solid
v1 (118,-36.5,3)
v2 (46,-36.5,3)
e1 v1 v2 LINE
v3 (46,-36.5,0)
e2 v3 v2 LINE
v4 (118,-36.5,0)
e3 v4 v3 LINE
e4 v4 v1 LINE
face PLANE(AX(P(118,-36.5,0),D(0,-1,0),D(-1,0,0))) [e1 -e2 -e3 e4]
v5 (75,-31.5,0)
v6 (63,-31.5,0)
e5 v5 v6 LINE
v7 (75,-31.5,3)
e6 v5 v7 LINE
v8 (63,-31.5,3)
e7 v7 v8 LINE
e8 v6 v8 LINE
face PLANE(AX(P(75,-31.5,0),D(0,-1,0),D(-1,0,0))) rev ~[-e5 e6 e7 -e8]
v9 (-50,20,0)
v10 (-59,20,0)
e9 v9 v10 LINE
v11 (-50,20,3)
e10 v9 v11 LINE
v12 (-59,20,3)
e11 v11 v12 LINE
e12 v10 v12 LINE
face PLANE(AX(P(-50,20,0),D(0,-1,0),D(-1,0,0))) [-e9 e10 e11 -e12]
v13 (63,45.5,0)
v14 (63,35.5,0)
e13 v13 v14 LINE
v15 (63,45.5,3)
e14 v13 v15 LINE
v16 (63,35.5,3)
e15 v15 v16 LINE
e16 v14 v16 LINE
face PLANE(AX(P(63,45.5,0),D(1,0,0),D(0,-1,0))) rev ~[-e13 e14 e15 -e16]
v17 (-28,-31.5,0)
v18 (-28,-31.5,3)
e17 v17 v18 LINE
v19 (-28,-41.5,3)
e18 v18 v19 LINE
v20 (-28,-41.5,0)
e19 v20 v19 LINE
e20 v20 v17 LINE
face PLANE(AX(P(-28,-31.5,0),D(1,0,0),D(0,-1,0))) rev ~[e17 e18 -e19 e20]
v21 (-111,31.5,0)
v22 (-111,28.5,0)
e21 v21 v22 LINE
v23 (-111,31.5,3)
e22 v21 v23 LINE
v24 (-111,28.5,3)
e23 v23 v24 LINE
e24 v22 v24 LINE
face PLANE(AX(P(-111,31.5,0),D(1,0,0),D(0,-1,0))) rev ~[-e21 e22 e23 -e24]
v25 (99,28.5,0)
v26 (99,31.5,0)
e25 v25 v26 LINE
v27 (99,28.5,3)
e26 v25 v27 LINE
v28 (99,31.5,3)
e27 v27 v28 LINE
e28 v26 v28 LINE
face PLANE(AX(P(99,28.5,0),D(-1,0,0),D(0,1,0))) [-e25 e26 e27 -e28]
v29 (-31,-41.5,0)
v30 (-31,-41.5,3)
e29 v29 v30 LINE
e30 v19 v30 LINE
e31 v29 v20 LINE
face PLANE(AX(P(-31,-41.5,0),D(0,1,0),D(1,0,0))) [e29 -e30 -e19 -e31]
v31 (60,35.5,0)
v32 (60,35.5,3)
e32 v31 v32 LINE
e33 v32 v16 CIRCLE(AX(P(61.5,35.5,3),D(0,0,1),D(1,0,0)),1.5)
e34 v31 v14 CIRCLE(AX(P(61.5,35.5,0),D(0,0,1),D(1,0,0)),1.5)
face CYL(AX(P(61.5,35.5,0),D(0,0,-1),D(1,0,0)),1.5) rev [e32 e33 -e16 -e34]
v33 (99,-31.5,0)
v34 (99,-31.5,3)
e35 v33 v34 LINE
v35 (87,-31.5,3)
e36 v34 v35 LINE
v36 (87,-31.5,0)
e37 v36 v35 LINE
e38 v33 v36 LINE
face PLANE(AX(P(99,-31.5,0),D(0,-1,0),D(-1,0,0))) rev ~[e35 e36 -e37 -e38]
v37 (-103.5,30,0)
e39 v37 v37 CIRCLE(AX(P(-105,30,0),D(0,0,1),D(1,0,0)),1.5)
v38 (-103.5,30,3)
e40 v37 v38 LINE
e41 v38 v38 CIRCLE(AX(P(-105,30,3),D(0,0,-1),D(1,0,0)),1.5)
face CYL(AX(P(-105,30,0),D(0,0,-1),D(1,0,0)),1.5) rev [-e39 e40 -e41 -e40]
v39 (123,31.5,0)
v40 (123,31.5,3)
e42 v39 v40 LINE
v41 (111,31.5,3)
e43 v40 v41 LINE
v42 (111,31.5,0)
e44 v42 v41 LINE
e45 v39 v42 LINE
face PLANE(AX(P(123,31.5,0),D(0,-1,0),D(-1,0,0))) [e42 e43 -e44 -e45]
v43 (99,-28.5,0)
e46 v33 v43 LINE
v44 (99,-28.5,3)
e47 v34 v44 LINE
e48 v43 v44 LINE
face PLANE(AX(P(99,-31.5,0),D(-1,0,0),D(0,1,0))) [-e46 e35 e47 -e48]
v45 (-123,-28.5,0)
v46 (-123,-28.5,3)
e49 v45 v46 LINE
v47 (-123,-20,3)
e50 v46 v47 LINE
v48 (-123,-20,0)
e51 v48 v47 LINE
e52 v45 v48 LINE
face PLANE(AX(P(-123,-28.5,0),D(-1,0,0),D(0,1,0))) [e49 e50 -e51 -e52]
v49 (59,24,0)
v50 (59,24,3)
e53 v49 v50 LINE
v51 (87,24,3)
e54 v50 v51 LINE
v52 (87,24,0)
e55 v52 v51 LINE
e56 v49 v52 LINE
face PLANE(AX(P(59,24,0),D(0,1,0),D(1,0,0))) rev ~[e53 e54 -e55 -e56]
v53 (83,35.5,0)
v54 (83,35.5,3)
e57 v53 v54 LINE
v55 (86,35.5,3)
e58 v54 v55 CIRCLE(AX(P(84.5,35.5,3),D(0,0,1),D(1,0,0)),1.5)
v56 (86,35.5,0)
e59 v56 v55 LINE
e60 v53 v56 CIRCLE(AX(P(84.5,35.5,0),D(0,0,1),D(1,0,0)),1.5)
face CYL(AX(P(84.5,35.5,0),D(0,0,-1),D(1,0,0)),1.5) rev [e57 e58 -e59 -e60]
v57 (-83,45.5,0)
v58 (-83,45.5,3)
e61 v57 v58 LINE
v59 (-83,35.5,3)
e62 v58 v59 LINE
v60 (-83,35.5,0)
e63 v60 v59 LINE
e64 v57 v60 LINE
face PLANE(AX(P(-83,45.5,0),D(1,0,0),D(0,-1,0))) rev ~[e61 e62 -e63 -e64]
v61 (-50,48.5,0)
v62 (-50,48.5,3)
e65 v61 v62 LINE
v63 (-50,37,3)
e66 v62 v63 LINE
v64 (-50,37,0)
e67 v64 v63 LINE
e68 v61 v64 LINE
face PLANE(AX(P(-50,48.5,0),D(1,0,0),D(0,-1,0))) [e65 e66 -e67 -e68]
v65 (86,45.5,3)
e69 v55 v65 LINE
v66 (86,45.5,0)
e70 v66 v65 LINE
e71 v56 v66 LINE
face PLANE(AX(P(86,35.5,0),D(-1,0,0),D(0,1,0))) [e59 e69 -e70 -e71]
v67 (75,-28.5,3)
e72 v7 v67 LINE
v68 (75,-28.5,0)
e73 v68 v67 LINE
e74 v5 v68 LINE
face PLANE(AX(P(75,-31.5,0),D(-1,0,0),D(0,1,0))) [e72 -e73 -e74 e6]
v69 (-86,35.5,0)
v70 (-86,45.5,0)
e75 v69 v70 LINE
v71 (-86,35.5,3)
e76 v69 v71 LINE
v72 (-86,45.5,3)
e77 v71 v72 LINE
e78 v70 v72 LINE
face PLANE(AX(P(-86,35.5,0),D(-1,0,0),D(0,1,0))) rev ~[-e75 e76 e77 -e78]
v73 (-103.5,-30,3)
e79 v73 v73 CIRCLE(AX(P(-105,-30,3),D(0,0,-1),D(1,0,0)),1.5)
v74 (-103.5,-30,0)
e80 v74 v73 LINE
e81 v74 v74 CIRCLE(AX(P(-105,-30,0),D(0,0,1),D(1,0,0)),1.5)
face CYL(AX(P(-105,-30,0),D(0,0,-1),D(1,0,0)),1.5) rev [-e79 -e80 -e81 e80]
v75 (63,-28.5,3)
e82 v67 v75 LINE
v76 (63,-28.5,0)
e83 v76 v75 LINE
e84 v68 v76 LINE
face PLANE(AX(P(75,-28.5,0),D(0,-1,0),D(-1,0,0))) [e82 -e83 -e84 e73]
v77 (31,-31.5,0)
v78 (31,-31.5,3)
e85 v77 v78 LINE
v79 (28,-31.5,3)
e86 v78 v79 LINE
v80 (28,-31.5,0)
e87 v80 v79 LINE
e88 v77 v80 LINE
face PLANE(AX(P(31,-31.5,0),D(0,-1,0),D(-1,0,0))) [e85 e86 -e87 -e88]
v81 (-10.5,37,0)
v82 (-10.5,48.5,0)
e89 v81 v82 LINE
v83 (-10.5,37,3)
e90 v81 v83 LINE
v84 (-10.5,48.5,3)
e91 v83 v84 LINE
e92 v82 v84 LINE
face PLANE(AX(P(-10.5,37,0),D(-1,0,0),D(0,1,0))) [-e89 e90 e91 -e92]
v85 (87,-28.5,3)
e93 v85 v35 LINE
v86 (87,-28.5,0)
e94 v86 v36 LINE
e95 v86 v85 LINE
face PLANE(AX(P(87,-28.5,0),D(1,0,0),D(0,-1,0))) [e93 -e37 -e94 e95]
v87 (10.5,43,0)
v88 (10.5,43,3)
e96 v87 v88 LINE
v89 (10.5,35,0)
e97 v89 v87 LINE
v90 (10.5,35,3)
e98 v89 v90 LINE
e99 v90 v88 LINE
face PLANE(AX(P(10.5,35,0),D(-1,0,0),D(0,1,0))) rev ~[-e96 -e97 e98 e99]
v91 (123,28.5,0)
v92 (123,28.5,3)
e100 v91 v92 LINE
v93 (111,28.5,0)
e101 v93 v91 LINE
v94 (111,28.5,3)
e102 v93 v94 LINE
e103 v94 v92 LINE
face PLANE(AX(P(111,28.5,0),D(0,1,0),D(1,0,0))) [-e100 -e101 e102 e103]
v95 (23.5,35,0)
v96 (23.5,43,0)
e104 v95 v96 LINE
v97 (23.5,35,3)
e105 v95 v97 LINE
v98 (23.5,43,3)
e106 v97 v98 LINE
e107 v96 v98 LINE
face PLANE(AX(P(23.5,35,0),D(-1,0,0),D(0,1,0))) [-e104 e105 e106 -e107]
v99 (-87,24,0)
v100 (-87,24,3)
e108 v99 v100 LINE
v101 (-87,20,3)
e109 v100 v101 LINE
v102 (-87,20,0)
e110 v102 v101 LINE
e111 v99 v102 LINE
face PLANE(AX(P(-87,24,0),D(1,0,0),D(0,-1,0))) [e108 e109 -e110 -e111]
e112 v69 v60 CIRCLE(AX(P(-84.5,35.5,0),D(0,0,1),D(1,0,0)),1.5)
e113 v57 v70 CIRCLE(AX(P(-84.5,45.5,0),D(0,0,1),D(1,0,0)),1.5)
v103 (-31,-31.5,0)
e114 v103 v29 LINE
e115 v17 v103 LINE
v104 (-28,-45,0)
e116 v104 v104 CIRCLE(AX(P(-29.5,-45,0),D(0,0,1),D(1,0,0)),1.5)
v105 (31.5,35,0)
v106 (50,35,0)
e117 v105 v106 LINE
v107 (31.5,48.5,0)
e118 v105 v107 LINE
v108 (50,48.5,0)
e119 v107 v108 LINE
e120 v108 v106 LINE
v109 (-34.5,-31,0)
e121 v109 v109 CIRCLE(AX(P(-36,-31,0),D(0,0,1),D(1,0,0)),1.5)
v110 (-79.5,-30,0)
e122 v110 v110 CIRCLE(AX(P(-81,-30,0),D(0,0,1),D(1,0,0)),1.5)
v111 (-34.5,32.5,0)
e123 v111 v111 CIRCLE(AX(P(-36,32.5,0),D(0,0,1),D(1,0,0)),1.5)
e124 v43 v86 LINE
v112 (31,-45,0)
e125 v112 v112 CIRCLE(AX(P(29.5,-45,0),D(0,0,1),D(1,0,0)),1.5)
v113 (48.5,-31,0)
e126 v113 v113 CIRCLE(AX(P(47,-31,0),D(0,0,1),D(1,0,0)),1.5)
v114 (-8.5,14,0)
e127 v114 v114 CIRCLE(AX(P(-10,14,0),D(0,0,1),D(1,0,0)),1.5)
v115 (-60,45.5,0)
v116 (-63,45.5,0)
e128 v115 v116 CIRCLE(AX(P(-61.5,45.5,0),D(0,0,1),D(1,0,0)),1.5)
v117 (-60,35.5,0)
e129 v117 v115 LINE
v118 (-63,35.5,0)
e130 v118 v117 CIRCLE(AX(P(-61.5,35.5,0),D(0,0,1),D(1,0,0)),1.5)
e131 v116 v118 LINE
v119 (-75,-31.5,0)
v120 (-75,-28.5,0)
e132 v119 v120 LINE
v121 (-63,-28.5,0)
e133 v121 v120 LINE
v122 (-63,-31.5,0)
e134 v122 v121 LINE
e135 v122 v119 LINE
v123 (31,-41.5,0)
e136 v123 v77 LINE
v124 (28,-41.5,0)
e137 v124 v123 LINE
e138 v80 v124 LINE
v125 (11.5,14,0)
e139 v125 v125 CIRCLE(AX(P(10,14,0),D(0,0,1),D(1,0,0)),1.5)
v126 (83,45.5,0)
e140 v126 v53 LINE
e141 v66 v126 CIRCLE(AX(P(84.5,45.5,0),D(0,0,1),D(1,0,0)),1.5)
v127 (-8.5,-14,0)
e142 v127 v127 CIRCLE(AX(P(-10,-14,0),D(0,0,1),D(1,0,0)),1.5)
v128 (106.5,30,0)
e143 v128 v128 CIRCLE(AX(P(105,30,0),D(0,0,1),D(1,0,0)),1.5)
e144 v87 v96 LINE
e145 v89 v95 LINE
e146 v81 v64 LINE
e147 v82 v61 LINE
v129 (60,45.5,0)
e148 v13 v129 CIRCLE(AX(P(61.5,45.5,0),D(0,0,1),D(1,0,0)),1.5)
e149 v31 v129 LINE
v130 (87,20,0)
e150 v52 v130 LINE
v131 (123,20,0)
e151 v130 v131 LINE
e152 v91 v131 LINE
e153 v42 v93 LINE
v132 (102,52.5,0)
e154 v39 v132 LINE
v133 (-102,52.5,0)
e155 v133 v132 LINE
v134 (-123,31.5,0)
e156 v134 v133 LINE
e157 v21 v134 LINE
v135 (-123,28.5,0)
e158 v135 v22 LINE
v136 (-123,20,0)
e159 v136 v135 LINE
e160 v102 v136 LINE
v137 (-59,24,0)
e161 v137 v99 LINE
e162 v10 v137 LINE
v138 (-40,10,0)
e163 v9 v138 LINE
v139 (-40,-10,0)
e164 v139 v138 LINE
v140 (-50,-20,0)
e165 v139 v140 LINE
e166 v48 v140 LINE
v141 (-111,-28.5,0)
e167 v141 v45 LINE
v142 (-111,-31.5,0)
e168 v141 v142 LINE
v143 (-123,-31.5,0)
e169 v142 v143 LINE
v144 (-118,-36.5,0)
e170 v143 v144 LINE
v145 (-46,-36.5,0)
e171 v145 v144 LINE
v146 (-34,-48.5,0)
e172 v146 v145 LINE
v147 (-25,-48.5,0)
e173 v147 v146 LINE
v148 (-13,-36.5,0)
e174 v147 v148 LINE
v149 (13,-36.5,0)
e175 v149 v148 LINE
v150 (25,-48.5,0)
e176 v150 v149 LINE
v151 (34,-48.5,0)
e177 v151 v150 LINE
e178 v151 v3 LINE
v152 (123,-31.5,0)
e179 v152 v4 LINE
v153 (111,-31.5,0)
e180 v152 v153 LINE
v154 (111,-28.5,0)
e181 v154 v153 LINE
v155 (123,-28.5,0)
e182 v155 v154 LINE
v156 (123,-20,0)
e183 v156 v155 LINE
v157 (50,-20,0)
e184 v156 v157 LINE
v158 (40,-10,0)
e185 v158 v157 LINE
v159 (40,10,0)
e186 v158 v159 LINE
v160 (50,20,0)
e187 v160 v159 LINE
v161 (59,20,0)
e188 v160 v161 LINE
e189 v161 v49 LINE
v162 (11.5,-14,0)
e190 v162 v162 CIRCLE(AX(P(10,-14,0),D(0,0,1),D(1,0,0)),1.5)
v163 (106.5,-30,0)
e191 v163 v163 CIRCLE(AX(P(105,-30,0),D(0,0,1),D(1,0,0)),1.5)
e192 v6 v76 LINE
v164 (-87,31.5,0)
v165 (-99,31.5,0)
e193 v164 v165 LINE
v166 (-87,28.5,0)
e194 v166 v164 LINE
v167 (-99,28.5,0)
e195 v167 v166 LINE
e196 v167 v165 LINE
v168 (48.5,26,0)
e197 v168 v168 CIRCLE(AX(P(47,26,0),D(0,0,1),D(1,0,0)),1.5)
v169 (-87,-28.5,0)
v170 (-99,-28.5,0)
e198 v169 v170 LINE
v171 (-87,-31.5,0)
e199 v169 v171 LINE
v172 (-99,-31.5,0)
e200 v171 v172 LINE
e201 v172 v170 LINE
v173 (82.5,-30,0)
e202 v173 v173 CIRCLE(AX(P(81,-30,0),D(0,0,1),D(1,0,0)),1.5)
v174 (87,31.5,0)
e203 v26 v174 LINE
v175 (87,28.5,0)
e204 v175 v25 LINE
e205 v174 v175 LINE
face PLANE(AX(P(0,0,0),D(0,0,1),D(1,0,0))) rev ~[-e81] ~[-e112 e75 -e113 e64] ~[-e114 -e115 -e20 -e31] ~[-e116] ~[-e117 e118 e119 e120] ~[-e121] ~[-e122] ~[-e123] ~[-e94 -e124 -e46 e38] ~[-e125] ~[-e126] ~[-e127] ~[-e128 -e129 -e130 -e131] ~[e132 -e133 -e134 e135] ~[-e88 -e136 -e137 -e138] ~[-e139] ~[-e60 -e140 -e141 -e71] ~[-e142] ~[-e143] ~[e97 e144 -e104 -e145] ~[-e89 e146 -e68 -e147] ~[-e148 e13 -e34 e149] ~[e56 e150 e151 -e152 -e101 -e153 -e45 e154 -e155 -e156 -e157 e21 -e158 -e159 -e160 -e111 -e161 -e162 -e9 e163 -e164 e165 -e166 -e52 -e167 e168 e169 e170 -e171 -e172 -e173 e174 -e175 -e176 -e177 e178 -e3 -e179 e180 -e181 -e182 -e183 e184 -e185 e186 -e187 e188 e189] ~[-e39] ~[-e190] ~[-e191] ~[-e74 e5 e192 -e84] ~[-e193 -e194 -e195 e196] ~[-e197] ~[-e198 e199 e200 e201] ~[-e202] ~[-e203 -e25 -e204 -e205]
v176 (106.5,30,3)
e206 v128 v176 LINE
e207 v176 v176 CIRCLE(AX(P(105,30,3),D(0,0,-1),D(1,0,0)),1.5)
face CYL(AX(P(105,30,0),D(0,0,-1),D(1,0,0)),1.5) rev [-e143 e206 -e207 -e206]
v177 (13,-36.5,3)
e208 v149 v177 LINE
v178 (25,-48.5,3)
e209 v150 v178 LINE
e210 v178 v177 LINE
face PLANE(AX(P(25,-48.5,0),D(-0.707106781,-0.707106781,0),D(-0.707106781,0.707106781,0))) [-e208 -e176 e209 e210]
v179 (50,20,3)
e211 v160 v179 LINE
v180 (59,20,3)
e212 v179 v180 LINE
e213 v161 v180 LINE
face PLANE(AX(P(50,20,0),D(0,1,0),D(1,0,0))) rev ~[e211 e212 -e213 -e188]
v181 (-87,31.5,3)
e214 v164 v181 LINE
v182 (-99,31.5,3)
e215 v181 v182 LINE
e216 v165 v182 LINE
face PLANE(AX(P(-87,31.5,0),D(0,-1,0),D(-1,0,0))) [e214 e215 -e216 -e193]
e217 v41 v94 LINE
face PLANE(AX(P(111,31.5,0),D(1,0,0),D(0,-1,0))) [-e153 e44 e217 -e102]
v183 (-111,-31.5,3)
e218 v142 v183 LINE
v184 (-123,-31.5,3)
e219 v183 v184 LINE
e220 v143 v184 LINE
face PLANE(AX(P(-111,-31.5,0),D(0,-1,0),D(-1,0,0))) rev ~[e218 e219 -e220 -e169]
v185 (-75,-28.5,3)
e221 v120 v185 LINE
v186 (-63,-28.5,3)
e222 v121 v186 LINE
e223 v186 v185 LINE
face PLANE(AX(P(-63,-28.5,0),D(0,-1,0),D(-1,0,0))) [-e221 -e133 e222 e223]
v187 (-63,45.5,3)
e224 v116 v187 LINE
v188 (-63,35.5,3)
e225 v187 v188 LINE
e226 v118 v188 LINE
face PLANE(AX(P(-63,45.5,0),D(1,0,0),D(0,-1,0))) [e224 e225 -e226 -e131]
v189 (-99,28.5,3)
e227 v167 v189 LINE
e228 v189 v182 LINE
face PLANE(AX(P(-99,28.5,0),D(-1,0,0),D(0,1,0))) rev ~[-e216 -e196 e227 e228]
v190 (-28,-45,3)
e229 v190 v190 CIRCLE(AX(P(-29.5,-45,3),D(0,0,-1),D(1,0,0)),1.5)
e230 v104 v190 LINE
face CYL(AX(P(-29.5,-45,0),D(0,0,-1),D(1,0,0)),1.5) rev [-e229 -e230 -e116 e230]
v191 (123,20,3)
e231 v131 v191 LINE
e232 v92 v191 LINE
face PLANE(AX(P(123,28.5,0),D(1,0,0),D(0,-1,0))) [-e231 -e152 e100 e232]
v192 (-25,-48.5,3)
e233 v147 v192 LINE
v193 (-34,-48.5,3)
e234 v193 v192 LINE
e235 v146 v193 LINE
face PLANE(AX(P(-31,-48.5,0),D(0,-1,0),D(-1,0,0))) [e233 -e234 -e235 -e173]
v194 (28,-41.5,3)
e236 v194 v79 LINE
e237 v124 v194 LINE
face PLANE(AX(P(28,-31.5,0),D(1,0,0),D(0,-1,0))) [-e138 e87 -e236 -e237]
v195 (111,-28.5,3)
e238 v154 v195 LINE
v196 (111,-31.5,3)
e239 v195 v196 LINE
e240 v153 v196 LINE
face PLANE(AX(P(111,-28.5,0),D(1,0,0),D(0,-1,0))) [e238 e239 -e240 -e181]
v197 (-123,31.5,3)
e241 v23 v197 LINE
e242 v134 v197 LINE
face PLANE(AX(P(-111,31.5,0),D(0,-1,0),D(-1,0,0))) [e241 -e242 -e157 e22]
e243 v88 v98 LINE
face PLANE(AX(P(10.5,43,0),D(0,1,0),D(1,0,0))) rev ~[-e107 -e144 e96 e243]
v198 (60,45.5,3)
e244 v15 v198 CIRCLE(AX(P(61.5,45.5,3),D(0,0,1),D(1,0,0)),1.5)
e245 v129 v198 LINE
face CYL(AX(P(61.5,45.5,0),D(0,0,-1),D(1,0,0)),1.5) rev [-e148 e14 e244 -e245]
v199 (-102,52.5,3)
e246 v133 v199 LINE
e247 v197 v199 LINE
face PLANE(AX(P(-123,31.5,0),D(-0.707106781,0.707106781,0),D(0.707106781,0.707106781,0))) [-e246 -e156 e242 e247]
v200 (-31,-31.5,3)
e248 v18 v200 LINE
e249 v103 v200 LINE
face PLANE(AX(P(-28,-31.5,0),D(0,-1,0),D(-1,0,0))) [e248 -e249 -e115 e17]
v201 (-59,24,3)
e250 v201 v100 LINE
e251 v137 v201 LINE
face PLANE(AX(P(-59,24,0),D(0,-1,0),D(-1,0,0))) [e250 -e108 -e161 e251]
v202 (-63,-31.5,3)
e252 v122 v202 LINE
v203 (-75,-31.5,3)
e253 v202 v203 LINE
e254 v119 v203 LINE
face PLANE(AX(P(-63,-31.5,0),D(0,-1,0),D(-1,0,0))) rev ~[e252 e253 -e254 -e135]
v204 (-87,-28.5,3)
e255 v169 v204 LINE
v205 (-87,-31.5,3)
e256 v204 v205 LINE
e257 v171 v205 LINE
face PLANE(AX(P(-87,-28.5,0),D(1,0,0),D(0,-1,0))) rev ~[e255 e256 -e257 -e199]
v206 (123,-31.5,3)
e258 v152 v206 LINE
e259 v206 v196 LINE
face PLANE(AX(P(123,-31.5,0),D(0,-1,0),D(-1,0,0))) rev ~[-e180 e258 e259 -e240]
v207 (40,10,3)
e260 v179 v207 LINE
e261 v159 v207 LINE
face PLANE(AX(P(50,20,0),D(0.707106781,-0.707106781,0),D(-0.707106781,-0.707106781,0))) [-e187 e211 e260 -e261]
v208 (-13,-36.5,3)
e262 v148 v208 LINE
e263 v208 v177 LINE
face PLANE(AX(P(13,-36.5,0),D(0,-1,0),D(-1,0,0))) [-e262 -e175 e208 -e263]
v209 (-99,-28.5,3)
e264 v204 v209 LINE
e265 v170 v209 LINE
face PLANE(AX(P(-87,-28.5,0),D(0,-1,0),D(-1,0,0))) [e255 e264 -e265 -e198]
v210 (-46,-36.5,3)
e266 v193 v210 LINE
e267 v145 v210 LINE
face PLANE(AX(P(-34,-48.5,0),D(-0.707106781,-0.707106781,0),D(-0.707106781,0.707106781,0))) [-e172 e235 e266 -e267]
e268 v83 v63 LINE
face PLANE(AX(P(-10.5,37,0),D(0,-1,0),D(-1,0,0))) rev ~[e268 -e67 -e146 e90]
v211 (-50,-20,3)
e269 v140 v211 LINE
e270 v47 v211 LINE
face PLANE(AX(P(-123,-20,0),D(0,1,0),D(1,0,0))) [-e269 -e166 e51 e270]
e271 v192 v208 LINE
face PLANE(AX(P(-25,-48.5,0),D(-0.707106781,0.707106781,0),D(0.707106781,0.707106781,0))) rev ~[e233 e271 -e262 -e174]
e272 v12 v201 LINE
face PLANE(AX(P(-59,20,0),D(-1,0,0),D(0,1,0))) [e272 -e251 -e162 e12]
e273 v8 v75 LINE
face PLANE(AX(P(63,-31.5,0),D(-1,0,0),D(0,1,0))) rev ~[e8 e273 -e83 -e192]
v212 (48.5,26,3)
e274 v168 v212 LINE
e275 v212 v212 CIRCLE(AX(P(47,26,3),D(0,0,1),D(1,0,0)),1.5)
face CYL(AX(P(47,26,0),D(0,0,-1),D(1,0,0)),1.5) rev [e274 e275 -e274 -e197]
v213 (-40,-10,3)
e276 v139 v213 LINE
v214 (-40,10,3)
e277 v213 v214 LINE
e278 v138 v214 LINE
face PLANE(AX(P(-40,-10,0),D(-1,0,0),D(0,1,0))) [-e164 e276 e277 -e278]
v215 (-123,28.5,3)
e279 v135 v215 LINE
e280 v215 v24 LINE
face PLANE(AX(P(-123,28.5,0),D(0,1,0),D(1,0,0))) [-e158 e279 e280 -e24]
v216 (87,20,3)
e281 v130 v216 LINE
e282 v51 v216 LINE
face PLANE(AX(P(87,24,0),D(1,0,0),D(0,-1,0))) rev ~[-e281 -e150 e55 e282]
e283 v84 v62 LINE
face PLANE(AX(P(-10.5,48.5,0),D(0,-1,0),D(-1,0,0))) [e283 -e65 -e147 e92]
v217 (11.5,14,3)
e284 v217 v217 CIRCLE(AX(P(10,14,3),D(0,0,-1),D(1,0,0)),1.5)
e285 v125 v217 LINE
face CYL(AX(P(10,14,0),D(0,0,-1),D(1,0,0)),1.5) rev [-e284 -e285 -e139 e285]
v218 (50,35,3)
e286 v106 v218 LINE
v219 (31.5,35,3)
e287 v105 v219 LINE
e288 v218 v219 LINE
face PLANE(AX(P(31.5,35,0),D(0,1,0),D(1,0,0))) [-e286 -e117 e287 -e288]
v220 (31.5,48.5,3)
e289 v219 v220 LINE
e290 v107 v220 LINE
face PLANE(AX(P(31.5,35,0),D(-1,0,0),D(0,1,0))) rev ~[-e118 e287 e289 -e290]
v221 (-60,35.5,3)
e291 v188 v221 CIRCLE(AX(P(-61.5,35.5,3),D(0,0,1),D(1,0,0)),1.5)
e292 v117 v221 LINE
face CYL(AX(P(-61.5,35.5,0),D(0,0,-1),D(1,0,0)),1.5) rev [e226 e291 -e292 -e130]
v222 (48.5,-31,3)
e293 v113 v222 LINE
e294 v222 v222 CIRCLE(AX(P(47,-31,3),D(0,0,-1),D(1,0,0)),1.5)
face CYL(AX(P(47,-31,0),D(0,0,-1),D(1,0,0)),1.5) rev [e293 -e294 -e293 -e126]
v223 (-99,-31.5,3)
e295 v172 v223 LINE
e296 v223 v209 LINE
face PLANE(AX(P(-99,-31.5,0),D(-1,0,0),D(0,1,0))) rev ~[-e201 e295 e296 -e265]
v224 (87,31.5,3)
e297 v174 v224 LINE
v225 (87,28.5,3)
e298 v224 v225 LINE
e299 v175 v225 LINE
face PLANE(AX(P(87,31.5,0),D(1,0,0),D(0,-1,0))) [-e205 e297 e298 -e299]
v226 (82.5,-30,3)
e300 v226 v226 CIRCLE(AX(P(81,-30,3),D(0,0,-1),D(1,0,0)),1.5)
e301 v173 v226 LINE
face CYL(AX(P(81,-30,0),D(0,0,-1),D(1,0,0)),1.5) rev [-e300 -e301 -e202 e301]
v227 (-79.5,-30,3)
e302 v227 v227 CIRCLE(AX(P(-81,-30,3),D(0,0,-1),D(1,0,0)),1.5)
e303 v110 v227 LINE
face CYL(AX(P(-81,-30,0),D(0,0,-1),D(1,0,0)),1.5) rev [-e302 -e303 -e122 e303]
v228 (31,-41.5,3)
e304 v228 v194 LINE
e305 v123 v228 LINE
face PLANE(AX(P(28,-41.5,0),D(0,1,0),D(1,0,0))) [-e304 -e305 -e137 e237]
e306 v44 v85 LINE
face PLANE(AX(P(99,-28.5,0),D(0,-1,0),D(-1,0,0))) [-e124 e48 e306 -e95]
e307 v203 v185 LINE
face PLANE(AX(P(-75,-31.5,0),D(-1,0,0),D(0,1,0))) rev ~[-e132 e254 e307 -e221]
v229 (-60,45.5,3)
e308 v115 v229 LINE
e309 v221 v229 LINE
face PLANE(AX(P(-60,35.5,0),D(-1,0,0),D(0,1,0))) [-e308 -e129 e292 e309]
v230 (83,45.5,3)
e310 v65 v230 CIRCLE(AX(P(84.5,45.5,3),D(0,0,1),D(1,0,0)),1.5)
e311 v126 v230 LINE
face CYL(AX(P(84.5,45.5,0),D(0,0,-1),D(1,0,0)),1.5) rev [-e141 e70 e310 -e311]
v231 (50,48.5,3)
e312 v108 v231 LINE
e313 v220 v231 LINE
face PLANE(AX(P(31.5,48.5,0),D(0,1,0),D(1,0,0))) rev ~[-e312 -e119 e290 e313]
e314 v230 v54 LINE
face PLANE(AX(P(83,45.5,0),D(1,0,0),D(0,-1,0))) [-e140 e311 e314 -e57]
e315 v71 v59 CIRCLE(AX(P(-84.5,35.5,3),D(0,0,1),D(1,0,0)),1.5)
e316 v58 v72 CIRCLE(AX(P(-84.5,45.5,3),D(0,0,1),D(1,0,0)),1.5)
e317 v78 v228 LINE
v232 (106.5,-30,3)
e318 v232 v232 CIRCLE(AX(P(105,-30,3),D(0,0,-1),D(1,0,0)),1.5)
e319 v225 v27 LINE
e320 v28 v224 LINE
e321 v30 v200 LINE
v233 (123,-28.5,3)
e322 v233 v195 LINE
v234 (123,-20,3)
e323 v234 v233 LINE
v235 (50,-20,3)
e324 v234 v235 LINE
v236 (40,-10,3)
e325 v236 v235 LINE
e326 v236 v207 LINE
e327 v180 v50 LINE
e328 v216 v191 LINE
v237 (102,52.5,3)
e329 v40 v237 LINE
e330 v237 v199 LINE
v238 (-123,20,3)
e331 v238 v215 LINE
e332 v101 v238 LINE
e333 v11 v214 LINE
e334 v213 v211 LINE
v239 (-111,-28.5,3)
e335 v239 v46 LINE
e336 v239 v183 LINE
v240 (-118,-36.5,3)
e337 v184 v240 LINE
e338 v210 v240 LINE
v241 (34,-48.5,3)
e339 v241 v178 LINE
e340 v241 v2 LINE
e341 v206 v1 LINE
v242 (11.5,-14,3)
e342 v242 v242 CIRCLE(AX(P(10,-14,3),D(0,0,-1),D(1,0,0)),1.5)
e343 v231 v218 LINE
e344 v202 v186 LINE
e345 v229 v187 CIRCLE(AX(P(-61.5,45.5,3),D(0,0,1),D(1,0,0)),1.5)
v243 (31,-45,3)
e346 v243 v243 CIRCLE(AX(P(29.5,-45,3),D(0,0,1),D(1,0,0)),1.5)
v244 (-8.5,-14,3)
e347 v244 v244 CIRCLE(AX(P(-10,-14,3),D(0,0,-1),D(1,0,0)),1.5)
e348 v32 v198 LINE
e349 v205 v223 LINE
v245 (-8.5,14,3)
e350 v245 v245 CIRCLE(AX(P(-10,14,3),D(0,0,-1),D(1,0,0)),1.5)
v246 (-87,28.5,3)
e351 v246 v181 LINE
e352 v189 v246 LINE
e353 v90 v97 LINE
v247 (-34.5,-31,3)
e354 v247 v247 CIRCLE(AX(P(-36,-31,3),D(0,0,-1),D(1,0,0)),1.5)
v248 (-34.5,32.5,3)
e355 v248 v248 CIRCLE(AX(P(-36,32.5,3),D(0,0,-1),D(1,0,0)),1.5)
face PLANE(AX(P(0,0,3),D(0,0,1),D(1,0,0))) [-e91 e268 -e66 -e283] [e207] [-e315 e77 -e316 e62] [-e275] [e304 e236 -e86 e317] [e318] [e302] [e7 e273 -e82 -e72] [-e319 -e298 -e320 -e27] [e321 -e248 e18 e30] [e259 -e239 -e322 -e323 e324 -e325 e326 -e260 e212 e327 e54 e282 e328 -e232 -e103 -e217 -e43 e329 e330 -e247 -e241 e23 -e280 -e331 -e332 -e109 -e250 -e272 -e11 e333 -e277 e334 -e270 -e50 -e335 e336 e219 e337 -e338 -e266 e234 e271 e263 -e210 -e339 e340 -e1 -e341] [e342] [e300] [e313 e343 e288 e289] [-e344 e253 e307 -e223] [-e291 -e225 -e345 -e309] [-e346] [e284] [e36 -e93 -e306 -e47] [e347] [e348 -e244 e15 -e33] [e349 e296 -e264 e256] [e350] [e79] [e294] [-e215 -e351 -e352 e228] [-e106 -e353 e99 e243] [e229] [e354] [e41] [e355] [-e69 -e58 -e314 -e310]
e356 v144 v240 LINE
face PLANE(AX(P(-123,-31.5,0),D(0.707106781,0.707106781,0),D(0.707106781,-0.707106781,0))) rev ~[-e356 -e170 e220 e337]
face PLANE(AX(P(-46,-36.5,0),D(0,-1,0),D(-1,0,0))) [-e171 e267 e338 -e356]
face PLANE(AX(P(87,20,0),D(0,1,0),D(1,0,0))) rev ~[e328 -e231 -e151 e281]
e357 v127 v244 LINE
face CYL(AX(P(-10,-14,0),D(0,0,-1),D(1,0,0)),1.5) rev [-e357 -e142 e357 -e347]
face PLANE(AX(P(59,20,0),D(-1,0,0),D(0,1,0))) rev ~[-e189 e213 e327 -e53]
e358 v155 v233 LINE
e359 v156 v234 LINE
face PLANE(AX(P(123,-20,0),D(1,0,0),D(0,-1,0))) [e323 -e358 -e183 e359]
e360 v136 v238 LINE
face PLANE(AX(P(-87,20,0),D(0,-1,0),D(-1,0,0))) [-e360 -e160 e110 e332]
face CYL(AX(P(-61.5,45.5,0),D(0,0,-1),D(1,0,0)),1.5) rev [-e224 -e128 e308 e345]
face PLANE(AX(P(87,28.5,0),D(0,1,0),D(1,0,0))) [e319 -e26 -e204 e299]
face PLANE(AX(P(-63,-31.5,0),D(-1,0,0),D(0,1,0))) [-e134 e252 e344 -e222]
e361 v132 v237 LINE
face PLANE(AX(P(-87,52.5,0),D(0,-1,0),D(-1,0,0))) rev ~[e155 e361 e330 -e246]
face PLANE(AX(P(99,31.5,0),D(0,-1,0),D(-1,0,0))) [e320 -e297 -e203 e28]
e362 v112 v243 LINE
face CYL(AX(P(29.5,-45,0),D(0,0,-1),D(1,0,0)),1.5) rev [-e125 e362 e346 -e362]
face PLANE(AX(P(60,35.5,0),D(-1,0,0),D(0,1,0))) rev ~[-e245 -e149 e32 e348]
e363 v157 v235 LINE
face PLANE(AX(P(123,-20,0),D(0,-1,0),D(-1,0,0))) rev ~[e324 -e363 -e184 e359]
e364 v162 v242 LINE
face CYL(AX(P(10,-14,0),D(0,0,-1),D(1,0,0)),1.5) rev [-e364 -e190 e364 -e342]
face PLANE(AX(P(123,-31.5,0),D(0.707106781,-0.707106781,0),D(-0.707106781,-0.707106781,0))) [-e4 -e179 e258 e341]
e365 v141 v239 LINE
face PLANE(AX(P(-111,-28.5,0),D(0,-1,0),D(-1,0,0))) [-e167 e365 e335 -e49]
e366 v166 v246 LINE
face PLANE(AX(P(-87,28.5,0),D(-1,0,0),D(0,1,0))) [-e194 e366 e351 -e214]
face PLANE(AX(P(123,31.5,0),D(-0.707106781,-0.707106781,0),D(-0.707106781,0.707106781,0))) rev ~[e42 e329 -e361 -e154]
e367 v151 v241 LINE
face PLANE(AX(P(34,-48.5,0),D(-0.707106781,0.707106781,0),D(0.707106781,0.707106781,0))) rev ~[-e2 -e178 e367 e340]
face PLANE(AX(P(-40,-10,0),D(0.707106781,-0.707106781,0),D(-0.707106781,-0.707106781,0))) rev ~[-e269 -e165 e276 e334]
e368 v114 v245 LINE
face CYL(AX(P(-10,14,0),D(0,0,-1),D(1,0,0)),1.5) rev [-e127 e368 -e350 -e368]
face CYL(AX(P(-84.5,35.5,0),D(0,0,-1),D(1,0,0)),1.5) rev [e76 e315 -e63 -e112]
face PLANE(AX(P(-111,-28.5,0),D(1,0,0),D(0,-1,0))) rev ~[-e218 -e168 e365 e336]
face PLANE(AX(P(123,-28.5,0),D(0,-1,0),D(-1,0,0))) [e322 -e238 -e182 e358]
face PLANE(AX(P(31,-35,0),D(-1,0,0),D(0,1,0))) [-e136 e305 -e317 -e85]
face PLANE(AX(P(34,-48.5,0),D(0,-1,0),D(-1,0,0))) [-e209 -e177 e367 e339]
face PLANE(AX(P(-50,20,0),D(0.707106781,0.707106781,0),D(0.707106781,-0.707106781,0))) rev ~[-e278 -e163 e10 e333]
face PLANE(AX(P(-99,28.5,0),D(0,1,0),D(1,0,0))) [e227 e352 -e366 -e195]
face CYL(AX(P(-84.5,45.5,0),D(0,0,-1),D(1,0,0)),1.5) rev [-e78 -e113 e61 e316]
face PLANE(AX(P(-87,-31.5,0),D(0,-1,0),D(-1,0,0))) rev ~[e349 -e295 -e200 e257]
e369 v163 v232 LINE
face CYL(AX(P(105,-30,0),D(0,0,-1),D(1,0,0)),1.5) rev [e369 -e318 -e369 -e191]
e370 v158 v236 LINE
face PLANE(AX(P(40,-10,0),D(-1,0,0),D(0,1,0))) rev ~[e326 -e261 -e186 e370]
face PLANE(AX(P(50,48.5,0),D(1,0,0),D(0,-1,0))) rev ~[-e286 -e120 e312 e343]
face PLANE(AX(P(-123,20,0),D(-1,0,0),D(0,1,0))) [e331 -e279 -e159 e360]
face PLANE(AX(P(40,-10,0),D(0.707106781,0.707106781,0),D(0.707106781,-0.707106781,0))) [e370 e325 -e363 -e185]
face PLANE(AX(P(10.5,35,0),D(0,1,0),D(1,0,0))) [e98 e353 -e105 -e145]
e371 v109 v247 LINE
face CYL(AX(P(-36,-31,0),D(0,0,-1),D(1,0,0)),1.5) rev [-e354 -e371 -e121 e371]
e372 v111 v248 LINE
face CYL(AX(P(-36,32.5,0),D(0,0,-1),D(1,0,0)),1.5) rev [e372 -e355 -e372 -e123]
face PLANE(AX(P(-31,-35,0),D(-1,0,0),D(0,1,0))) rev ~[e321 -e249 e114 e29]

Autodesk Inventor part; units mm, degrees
ref_plane "YZ Plane" through (0, 0, 0) normal (1, 0, 0) x (0, 1, 0)
ref_plane "XZ Plane" through (0, 0, 0) normal (0, 1, 0) x (-1, 0, 0)
ref_plane "XY Plane" through (0, 0, 0) normal (0, 0, 1) x (1, 0, 0)
sketch "Эскиз1" plane through (0, 0, 0) normal (0, 0, 1) x (1, 0, 0)
  line L0 (123, -10) -> (-123, -10)
  line L1 (-123, -10) -> (-123, 10)
  line L2 (-123, 10) -> (123, 10)
  line L3 (123, 10) -> (123, -10)
  line L4 (123, -28.5) -> (-123, -28.5)
  line L5 (-123, -28.5) -> (-123, 28.5)
  line L6 (-123, 28.5) -> (123, 28.5)
  line L7 (123, 28.5) -> (123, -28.5)
  line L8 (123, -28.5) -> (-123, 28.5) construction
  line L9 (-123, -28.5) -> (123, 28.5) construction
  line L10 (10, -14) -> (-10, -14)
  line L11 (-10, -14) -> (-10, 14)
  line L12 (-10, 14) -> (10, 14)
  line L13 (10, 14) -> (10, -14)
  circle A0 centre (-10, 14) radius 1.5
  line L14 (0, 4.14) -> (0, 0)
  line L15 (0, 0) -> (3.9539, 0)
  circle A1 centre (10, 14) radius 1.5
  circle A2 centre (-10, -14) radius 1.5
  circle A3 centre (10, -14) radius 1.5
  line L16 (-123, -20) -> (-40, -20)
  line L17 (-40, -20) -> (-40, 20)
  line L18 (-40, 20) -> (-123, 20)
  line L19 (-123, 20) -> (-123, -20)
  line L20 (-40, -20) -> (-50, -20)
  line L21 (-50, -20) -> (-50, 20)
  line L22 (-50, 20) -> (-40, 20)
  line L23 (-40, 20) -> (-40, -20)
  line L24 (-50, 10) -> (-96, 10)
  line L25 (-96, 10) -> (-96, -10)
  line L26 (-96, -10) -> (-50, -10)
  line L27 (-50, -10) -> (-50, 10)
  line L28 (-50, 20) -> (-40, 10)
  line L29 (-40, -10) -> (-50, -20)
  line L30 (50, -35) -> (-50, -35)
  line L31 (-50, -35) -> (-50, 35)
  line L32 (-50, 35) -> (50, 35)
  line L33 (50, 35) -> (50, -35)
  line L34 (50, -35) -> (-50, 35) construction
  line L35 (-50, -35) -> (50, 35) construction
  line L36 (123, -20) -> (40, -20)
  line L37 (40, -20) -> (40, 20)
  line L38 (40, 20) -> (123, 20)
  line L39 (50, 20) -> (40, 10)
  line L40 (40, -10) -> (50, -20)
  line L41 (-50, -35) -> (-36, -35)
  line L42 (-50, -31) -> (-50, -35)
  circle A4 centre (-36, -31) radius 1.5
  line L43 (-50, 35) -> (-36, 35)
  line L44 (-50, 32.5) -> (-50, 35)
  circle A5 centre (-36, 32.5) radius 1.5
  line L45 (50, -35) -> (47, -35)
  line L46 (50, -31) -> (50, -35)
  circle A6 centre (47, -31) radius 1.5
  line L47 (50, 35) -> (47, 35)
  line L48 (50, 26) -> (50, 35)
  circle A7 centre (47, 26) radius 1.5
  line L49 (-123, 28.5) -> (123, 28.5)
  line L50 (123, 28.5) -> (123, 31.5)
  line L51 (123, 31.5) -> (-123, 31.5)
  line L52 (-123, 31.5) -> (-123, 28.5)
  line L53 (-123, -28.5) -> (123, -28.5)
  line L54 (123, -28.5) -> (123, -31.5)
  line L55 (123, -31.5) -> (-123, -31.5)
  line L56 (-123, -31.5) -> (-123, -28.5)
  line L57 (-123, 31.5) -> (-111, 31.5)
  line L58 (-111, 31.5) -> (-111, 28.5)
  line L59 (-111, 28.5) -> (-123, 28.5)
  line L60 (-123, 28.5) -> (-123, 31.5)
  line L61 (-111, 28.5) -> (-99, 28.5)
  line L62 (-99, 28.5) -> (-99, 31.5)
  line L63 (-99, 31.5) -> (-111, 31.5)
  line L64 (-111, 31.5) -> (-111, 28.5)
  circle A8 centre (-105, 30) radius 1.5
  line L65 (-99, 28.5) -> (-87, 28.5)
  line L66 (-87, 28.5) -> (-87, 31.5)
  line L67 (-87, 31.5) -> (-99, 31.5)
  line L68 (-99, 31.5) -> (-99, 28.5)
  line L69 (-87, 28.5) -> (-59, 28.5)
  line L70 (-59, 28.5) -> (-59, 52.5)
  line L71 (-59, 52.5) -> (-87, 52.5)
  line L72 (-87, 52.5) -> (-87, 28.5)
  line L73 (-87, 52.5) -> (-79, 52.5)
  line L74 (-79, 52.5) -> (-79, 28.5)
  line L75 (-79, 28.5) -> (-87, 28.5)
  line L76 (-87, 28.5) -> (-87, 52.5)
  line L77 (-59, 52.5) -> (-67, 52.5)
  line L78 (-67, 52.5) -> (-67, 28.5)
  line L79 (-67, 28.5) -> (-59, 28.5)
  line L80 (-59, 28.5) -> (-59, 52.5)
  line L81 (-59, 52.5) -> (-61.5, 52.5)
  line L82 (-59, 45.5) -> (-59, 52.5)
  circle A9 centre (-61.5, 45.5) radius 1.5
  line L83 (-59, 28.5) -> (-61.5, 28.5)
  line L84 (-59, 35.5) -> (-59, 28.5)
  circle A10 centre (-61.5, 35.5) radius 1.5
  line L85 (-63, 45.5) -> (-63, 35.5)
  line L86 (-60, 35.5) -> (-60, 45.5)
  line L87 (-73, 40.5) -> (-73, 52.5)
  circle A11 centre (-84.5, 45.5) radius 1.5
  circle A12 centre (-84.5, 35.5) radius 1.5
  line L88 (-83, 45.5) -> (-83, 35.5)
  line L89 (-86, 35.5) -> (-86, 45.5)
  line L90 (123, 28.5) -> (-123, 28.5)
  line L91 (59, 28.5) -> (59, 52.5)
  line L92 (59, 52.5) -> (87, 52.5)
  line L93 (87, 52.5) -> (87, 28.5)
  line L94 (87, 52.5) -> (79, 52.5)
  line L95 (79, 52.5) -> (79, 28.5)
  line L96 (67, 52.5) -> (67, 28.5)
  line L97 (59, 45.5) -> (59, 52.5)
  circle A13 centre (61.5, 45.5) radius 1.5
  circle A14 centre (61.5, 35.5) radius 1.5
  line L98 (63, 45.5) -> (63, 35.5)
  line L99 (60, 35.5) -> (60, 45.5)
  line L100 (83, 45.5) -> (83, 35.5)
  circle A15 centre (84.5, 45.5) radius 1.5
  line L101 (86, 35.5) -> (86, 45.5)
  circle A16 centre (84.5, 35.5) radius 1.5
  line L102 (-123, 31.5) -> (123, 31.5)
  line L103 (123, 31.5) -> (123, 52.5)
  line L104 (123, 52.5) -> (-123, 52.5)
  line L105 (-123, 52.5) -> (-123, 31.5)
  line L106 (111, 31.5) -> (111, 28.5)
  line L107 (99, 28.5) -> (99, 31.5)
  circle A17 centre (105, 30) radius 1.5
  line L108 (99, 31.5) -> (99, 28.5)
  line L109 (-123, -28.5) -> (-111, -28.5)
  line L110 (-111, -28.5) -> (-111, -31.5)
  line L111 (-111, -31.5) -> (-123, -31.5)
  line L112 (-123, -31.5) -> (-123, -28.5)
  line L113 (-111, -31.5) -> (-99, -31.5)
  line L114 (-99, -31.5) -> (-99, -28.5)
  line L115 (-99, -28.5) -> (-111, -28.5)
  line L116 (-111, -28.5) -> (-111, -31.5)
  circle A18 centre (-105, -30) radius 1.5
  line L117 (-99, -28.5) -> (-87, -28.5)
  line L118 (-87, -28.5) -> (-87, -31.5)
  line L119 (-87, -31.5) -> (-99, -31.5)
  line L120 (-99, -31.5) -> (-99, -28.5)
  line L121 (-87, -31.5) -> (-75, -31.5)
  line L122 (-75, -31.5) -> (-75, -28.5)
  line L123 (-75, -28.5) -> (-87, -28.5)
  line L124 (-87, -28.5) -> (-87, -31.5)
  circle A19 centre (-81, -30) radius 1.5
  line L125 (111, -28.5) -> (111, -31.5)
  line L126 (99, -31.5) -> (99, -28.5)
  circle A20 centre (105, -30) radius 1.5
  line L127 (75, -31.5) -> (75, -28.5)
  line L128 (87, -28.5) -> (87, -31.5)
  circle A21 centre (81, -30) radius 1.5
  line L129 (-123, -31.5) -> (123, -31.5)
  line L130 (123, -31.5) -> (123, -36.5)
  line L131 (123, -36.5) -> (-123, -36.5)
  line L132 (-123, -36.5) -> (-123, -31.5)
  line L133 (-123, -36.5) -> (123, -36.5)
  line L134 (123, -36.5) -> (123, -48.5)
  line L135 (123, -48.5) -> (-123, -48.5)
  line L136 (-123, -48.5) -> (-123, -36.5)
  line L137 (0, -36.5) -> (-29.5, -36.5)
  line L138 (-29.5, -48.5) -> (0, -48.5)
  line L139 (0, -48.5) -> (0, -36.5)
  line L140 (-29.5, -48.5) -> (-28, -48.5)
  line L141 (-28, -48.5) -> (-28, -41.5)
  line L142 (-28, -41.5) -> (-29.5, -41.5)
  line L143 (-29.5, -48.5) -> (-31, -48.5)
  line L144 (-31, -48.5) -> (-31, -41.5)
  line L145 (-31, -41.5) -> (-29.5, -41.5)
  circle A22 centre (-29.5, -45) radius 1.5
  line L146 (-28, -41.5) -> (-31, -41.5)
  line L147 (-31, -41.5) -> (-31, -31.5)
  line L148 (-31, -31.5) -> (-28, -31.5)
  line L149 (-28, -31.5) -> (-28, -41.5)
  line L150 (28, -41.5) -> (29.5, -41.5)
  circle A23 centre (29.5, -45) radius 1.5
  line L151 (28, -41.5) -> (31, -41.5)
  line L152 (31, -41.5) -> (31, -31.5)
  line L153 (31, -31.5) -> (28, -31.5)
  line L154 (28, -31.5) -> (28, -41.5)
  line L155 (-28, -48.5) -> (-25, -48.5)
  line L156 (-25, -48.5) -> (-13, -36.5)
  line L157 (-31, -48.5) -> (-34, -48.5)
  line L158 (-34, -48.5) -> (-46, -36.5)
  line L159 (25, -48.5) -> (13, -36.5)
  line L160 (34, -48.5) -> (46, -36.5)
  line L161 (-75, -31.5) -> (-63, -31.5)
  line L162 (-63, -31.5) -> (-63, -28.5)
  line L163 (-63, -28.5) -> (-75, -28.5)
  line L164 (-75, -28.5) -> (-75, -31.5)
  line L165 (75, -31.5) -> (63, -31.5)
  line L166 (63, -31.5) -> (63, -28.5)
  line L167 (63, -28.5) -> (75, -28.5)
  line L168 (75, -28.5) -> (75, -31.5)
  line L169 (59, 28.5) -> (87, 28.5)
  line L170 (87, 28.5) -> (87, 20)
  line L171 (87, 20) -> (59, 20)
  line L172 (59, 20) -> (59, 28.5)
  line L173 (87, 20) -> (59, 20)
  line L174 (59, 20) -> (59, 24)
  line L175 (59, 24) -> (87, 24)
  line L176 (87, 24) -> (87, 20)
  line L177 (-59, 20) -> (-59, 24)
  line L178 (-59, 24) -> (-87, 24)
  line L179 (-87, 24) -> (-87, 20)
  line L180 (50, 35) -> (31.5, 35)
  line L181 (31.5, 35) -> (31.5, 48.5)
  line L182 (31.5, 48.5) -> (50, 48.5)
  line L183 (50, 48.5) -> (50, 35)
  line L184 (31.5, 35) -> (23.5, 35)
  line L185 (23.5, 35) -> (23.5, 48.5)
  line L186 (23.5, 48.5) -> (31.5, 48.5)
  line L187 (31.5, 48.5) -> (31.5, 35)
  line L188 (23.5, 35) -> (10.5, 35)
  line L189 (10.5, 35) -> (10.5, 43)
  line L190 (10.5, 43) -> (23.5, 43)
  line L191 (23.5, 43) -> (23.5, 35)
  line L192 (10.5, 35) -> (-10.5, 35)
  line L193 (-10.5, 35) -> (-10.5, 48.5)
  line L194 (-10.5, 48.5) -> (10.5, 48.5)
  line L195 (10.5, 48.5) -> (10.5, 35)
  line L196 (-10.5, 48.5) -> (-50, 48.5)
  line L197 (-50, 48.5) -> (-50, 35)
  line L198 (-50, 35) -> (-10.5, 35)
  line L199 (-10.5, 35) -> (-10.5, 48.5)
  line L200 (-50, 35) -> (-10.5, 35)
  line L201 (-10.5, 35) -> (-10.5, 37)
  line L202 (-10.5, 37) -> (-50, 37)
  line L203 (-50, 37) -> (-50, 35)
  line L204 (-123, -31.5) -> (-118, -36.5)
  line L205 (123, -31.5) -> (118, -36.5)
  line L206 (123, 31.5) -> (102, 52.5)
  line L207 (-123, 31.5) -> (-102, 52.5)
  point P0 (0, 0)
  point P1 (-40, -10)
  point P2 (-123, -31.5)
  point P3 (-34.882, 31.5)
  point P4 (-37.118, 31.5)
  point P5 (87, 31.5)
  point P6 (-31, -45)
  point P7 (-28, -45)
  point P8 (105, -28.5)
  point P9 (105, -31.5)
  point P10 (81, -31.5)
  point P11 (81, -28.5)
  point P12 (-123, -31.5)
  dimension "d0" = 246
  dimension "d1" = 20
  dimension "d3" = 123
  dimension "d4" = 57
  dimension "d5" = 20
  dimension "d6" = 28
  dimension "d7" = 3
  dimension "d10" = 10
  dimension "d11" = 246
  dimension "d12" = 10
  dimension "d13" = 14
  dimension "d14" = 83
  dimension "d15" = 40
  dimension "d16" = 20
  dimension "d17" = 10
  dimension "d18" = 46
  dimension "d19" = 100
  dimension "d20" = 70
  dimension "d23" = 3
  dimension "d24" = 36
  dimension "d25" = 31
  dimension "d26" = 50
  dimension "d27" = 35
  dimension "d30" = 3
  dimension "d31" = 2.5
  dimension "d32" = 14
  dimension "d35" = 3
  dimension "d39" = 3
  dimension "d40" = 4
  dimension "d41" = 3
  dimension "d42" = 2.5
  dimension "d43" = 3
  dimension "d44" = 3
  dimension "d45" = 3
  dimension "d46" = 12
  dimension "d47" = 12
  dimension "d48" = 3
  dimension "d50" = 1.5
  dimension "d51" = 6
  dimension "d52" = 12
  dimension "d53" = 28
  dimension "d54" = 24
  dimension "d55" = 8
  dimension "d56" = 8
  dimension "d59" = 3
  dimension "d60" = 2.5
  dimension "d61" = 7
  dimension "d64" = 3
  dimension "d67" = 2.5
  dimension "d69" = 7
  dimension "d70" = 12
  dimension "d71" = 12
  dimension "d72" = 12
  dimension "d73" = 12
  dimension "d74" = 5
  dimension "d75" = 246
  dimension "d76" = 12
  dimension "d77" = 1.5
  dimension "d78" = 1.5
  dimension "d79" = 6
  dimension "d80" = 3
  dimension "d81" = 6
  dimension "d82" = 3
  dimension "d83" = 29.5
extrude "Выдавливание1" add sketch "Эскиз1" along normal blind 3 contours L17 L2 L11 L0 | L0 L11 A2 L10 A3 L13 L37 L36 L33 L4 L31 L16 L17 | L17 L16 L29 | L11 L2 L13 L0 | L0 L13 A3 L10 A2 L11 | L17 L18 L31 L6 L33 L38 L37 L2 L13 A1 L12 A0 L11 | L28 L18 L17 | L31 L4 L5 L16 | L13 L2 L37 L0 | L11 A0 L12 A1 L13 L2 | L18 L177 L178 L179 L5 L6 L31 | L31 L55 L162 L4 | L4 L33 L55 A6 A4 L31 | L40 L36 L37 | L31 L51 A5 L33 L6 | L6 L70 L51 L31 | L33 L36 L7 L4 | L4 L166 L55 L33 | L37 L38 L39 | L6 L78 L51 L70 | L33 L51 L91 L6 | L6 L172 L38 L33 | L51 L70 L104 L91 L33 L183 L182 L186 L185 L190 L195 L194 L196 L197 L31 | L31 L32 L33 L51 A5 | L4 A18 L55 L110 | L55 L31 L30 L147 L131 L204 | L122 L55 A19 L4 | L55 A4 L147 L30 L31 | L51 L78 L71 L70 | L91 L51 L96 L6 | L6 L170 L175 L172 | L4 L114 L55 A18 | L4 A21 L55 L127 | L55 L205 L131 L152 L30 L33 | L33 L30 L152 L55 A6 | A19 L55 L118 L4 | L6 L74 L51 L78 | L51 L74 L71 L78 | L96 L51 L95 L6 | L91 L92 L96 L51 | L197 L202 L193 L32 | L131 L147 L144 L135 L158 | L4 L128 L55 A21 | L58 L51 A8 L6 | L207 L104 L72 L51 | L38 L170 L6 L7 | L125 L55 A20 L4 | L6 L66 L51 L74 | L51 L72 L71 L74 | L95 L51 L93 L6 | L96 L92 L95 L51 | A8 L51 L62 L6 | A20 L55 L126 L4 | L95 L92 L93 L51 | L32 L185 L186 L181 | L193 L194 L195 L189 L32 | L144 A22 L141 L135 | L145 L142 L141 A22 L144 | L149 L55 L154 L30 | L30 L154 L131 L149 | L6 A17 L51 L106 | L51 L93 L104 L206 | L160 L135 L159 L131 L154 L150 L151 L152 | L107 L51 A17 L6 | L131 L156 L135 L141 L149
